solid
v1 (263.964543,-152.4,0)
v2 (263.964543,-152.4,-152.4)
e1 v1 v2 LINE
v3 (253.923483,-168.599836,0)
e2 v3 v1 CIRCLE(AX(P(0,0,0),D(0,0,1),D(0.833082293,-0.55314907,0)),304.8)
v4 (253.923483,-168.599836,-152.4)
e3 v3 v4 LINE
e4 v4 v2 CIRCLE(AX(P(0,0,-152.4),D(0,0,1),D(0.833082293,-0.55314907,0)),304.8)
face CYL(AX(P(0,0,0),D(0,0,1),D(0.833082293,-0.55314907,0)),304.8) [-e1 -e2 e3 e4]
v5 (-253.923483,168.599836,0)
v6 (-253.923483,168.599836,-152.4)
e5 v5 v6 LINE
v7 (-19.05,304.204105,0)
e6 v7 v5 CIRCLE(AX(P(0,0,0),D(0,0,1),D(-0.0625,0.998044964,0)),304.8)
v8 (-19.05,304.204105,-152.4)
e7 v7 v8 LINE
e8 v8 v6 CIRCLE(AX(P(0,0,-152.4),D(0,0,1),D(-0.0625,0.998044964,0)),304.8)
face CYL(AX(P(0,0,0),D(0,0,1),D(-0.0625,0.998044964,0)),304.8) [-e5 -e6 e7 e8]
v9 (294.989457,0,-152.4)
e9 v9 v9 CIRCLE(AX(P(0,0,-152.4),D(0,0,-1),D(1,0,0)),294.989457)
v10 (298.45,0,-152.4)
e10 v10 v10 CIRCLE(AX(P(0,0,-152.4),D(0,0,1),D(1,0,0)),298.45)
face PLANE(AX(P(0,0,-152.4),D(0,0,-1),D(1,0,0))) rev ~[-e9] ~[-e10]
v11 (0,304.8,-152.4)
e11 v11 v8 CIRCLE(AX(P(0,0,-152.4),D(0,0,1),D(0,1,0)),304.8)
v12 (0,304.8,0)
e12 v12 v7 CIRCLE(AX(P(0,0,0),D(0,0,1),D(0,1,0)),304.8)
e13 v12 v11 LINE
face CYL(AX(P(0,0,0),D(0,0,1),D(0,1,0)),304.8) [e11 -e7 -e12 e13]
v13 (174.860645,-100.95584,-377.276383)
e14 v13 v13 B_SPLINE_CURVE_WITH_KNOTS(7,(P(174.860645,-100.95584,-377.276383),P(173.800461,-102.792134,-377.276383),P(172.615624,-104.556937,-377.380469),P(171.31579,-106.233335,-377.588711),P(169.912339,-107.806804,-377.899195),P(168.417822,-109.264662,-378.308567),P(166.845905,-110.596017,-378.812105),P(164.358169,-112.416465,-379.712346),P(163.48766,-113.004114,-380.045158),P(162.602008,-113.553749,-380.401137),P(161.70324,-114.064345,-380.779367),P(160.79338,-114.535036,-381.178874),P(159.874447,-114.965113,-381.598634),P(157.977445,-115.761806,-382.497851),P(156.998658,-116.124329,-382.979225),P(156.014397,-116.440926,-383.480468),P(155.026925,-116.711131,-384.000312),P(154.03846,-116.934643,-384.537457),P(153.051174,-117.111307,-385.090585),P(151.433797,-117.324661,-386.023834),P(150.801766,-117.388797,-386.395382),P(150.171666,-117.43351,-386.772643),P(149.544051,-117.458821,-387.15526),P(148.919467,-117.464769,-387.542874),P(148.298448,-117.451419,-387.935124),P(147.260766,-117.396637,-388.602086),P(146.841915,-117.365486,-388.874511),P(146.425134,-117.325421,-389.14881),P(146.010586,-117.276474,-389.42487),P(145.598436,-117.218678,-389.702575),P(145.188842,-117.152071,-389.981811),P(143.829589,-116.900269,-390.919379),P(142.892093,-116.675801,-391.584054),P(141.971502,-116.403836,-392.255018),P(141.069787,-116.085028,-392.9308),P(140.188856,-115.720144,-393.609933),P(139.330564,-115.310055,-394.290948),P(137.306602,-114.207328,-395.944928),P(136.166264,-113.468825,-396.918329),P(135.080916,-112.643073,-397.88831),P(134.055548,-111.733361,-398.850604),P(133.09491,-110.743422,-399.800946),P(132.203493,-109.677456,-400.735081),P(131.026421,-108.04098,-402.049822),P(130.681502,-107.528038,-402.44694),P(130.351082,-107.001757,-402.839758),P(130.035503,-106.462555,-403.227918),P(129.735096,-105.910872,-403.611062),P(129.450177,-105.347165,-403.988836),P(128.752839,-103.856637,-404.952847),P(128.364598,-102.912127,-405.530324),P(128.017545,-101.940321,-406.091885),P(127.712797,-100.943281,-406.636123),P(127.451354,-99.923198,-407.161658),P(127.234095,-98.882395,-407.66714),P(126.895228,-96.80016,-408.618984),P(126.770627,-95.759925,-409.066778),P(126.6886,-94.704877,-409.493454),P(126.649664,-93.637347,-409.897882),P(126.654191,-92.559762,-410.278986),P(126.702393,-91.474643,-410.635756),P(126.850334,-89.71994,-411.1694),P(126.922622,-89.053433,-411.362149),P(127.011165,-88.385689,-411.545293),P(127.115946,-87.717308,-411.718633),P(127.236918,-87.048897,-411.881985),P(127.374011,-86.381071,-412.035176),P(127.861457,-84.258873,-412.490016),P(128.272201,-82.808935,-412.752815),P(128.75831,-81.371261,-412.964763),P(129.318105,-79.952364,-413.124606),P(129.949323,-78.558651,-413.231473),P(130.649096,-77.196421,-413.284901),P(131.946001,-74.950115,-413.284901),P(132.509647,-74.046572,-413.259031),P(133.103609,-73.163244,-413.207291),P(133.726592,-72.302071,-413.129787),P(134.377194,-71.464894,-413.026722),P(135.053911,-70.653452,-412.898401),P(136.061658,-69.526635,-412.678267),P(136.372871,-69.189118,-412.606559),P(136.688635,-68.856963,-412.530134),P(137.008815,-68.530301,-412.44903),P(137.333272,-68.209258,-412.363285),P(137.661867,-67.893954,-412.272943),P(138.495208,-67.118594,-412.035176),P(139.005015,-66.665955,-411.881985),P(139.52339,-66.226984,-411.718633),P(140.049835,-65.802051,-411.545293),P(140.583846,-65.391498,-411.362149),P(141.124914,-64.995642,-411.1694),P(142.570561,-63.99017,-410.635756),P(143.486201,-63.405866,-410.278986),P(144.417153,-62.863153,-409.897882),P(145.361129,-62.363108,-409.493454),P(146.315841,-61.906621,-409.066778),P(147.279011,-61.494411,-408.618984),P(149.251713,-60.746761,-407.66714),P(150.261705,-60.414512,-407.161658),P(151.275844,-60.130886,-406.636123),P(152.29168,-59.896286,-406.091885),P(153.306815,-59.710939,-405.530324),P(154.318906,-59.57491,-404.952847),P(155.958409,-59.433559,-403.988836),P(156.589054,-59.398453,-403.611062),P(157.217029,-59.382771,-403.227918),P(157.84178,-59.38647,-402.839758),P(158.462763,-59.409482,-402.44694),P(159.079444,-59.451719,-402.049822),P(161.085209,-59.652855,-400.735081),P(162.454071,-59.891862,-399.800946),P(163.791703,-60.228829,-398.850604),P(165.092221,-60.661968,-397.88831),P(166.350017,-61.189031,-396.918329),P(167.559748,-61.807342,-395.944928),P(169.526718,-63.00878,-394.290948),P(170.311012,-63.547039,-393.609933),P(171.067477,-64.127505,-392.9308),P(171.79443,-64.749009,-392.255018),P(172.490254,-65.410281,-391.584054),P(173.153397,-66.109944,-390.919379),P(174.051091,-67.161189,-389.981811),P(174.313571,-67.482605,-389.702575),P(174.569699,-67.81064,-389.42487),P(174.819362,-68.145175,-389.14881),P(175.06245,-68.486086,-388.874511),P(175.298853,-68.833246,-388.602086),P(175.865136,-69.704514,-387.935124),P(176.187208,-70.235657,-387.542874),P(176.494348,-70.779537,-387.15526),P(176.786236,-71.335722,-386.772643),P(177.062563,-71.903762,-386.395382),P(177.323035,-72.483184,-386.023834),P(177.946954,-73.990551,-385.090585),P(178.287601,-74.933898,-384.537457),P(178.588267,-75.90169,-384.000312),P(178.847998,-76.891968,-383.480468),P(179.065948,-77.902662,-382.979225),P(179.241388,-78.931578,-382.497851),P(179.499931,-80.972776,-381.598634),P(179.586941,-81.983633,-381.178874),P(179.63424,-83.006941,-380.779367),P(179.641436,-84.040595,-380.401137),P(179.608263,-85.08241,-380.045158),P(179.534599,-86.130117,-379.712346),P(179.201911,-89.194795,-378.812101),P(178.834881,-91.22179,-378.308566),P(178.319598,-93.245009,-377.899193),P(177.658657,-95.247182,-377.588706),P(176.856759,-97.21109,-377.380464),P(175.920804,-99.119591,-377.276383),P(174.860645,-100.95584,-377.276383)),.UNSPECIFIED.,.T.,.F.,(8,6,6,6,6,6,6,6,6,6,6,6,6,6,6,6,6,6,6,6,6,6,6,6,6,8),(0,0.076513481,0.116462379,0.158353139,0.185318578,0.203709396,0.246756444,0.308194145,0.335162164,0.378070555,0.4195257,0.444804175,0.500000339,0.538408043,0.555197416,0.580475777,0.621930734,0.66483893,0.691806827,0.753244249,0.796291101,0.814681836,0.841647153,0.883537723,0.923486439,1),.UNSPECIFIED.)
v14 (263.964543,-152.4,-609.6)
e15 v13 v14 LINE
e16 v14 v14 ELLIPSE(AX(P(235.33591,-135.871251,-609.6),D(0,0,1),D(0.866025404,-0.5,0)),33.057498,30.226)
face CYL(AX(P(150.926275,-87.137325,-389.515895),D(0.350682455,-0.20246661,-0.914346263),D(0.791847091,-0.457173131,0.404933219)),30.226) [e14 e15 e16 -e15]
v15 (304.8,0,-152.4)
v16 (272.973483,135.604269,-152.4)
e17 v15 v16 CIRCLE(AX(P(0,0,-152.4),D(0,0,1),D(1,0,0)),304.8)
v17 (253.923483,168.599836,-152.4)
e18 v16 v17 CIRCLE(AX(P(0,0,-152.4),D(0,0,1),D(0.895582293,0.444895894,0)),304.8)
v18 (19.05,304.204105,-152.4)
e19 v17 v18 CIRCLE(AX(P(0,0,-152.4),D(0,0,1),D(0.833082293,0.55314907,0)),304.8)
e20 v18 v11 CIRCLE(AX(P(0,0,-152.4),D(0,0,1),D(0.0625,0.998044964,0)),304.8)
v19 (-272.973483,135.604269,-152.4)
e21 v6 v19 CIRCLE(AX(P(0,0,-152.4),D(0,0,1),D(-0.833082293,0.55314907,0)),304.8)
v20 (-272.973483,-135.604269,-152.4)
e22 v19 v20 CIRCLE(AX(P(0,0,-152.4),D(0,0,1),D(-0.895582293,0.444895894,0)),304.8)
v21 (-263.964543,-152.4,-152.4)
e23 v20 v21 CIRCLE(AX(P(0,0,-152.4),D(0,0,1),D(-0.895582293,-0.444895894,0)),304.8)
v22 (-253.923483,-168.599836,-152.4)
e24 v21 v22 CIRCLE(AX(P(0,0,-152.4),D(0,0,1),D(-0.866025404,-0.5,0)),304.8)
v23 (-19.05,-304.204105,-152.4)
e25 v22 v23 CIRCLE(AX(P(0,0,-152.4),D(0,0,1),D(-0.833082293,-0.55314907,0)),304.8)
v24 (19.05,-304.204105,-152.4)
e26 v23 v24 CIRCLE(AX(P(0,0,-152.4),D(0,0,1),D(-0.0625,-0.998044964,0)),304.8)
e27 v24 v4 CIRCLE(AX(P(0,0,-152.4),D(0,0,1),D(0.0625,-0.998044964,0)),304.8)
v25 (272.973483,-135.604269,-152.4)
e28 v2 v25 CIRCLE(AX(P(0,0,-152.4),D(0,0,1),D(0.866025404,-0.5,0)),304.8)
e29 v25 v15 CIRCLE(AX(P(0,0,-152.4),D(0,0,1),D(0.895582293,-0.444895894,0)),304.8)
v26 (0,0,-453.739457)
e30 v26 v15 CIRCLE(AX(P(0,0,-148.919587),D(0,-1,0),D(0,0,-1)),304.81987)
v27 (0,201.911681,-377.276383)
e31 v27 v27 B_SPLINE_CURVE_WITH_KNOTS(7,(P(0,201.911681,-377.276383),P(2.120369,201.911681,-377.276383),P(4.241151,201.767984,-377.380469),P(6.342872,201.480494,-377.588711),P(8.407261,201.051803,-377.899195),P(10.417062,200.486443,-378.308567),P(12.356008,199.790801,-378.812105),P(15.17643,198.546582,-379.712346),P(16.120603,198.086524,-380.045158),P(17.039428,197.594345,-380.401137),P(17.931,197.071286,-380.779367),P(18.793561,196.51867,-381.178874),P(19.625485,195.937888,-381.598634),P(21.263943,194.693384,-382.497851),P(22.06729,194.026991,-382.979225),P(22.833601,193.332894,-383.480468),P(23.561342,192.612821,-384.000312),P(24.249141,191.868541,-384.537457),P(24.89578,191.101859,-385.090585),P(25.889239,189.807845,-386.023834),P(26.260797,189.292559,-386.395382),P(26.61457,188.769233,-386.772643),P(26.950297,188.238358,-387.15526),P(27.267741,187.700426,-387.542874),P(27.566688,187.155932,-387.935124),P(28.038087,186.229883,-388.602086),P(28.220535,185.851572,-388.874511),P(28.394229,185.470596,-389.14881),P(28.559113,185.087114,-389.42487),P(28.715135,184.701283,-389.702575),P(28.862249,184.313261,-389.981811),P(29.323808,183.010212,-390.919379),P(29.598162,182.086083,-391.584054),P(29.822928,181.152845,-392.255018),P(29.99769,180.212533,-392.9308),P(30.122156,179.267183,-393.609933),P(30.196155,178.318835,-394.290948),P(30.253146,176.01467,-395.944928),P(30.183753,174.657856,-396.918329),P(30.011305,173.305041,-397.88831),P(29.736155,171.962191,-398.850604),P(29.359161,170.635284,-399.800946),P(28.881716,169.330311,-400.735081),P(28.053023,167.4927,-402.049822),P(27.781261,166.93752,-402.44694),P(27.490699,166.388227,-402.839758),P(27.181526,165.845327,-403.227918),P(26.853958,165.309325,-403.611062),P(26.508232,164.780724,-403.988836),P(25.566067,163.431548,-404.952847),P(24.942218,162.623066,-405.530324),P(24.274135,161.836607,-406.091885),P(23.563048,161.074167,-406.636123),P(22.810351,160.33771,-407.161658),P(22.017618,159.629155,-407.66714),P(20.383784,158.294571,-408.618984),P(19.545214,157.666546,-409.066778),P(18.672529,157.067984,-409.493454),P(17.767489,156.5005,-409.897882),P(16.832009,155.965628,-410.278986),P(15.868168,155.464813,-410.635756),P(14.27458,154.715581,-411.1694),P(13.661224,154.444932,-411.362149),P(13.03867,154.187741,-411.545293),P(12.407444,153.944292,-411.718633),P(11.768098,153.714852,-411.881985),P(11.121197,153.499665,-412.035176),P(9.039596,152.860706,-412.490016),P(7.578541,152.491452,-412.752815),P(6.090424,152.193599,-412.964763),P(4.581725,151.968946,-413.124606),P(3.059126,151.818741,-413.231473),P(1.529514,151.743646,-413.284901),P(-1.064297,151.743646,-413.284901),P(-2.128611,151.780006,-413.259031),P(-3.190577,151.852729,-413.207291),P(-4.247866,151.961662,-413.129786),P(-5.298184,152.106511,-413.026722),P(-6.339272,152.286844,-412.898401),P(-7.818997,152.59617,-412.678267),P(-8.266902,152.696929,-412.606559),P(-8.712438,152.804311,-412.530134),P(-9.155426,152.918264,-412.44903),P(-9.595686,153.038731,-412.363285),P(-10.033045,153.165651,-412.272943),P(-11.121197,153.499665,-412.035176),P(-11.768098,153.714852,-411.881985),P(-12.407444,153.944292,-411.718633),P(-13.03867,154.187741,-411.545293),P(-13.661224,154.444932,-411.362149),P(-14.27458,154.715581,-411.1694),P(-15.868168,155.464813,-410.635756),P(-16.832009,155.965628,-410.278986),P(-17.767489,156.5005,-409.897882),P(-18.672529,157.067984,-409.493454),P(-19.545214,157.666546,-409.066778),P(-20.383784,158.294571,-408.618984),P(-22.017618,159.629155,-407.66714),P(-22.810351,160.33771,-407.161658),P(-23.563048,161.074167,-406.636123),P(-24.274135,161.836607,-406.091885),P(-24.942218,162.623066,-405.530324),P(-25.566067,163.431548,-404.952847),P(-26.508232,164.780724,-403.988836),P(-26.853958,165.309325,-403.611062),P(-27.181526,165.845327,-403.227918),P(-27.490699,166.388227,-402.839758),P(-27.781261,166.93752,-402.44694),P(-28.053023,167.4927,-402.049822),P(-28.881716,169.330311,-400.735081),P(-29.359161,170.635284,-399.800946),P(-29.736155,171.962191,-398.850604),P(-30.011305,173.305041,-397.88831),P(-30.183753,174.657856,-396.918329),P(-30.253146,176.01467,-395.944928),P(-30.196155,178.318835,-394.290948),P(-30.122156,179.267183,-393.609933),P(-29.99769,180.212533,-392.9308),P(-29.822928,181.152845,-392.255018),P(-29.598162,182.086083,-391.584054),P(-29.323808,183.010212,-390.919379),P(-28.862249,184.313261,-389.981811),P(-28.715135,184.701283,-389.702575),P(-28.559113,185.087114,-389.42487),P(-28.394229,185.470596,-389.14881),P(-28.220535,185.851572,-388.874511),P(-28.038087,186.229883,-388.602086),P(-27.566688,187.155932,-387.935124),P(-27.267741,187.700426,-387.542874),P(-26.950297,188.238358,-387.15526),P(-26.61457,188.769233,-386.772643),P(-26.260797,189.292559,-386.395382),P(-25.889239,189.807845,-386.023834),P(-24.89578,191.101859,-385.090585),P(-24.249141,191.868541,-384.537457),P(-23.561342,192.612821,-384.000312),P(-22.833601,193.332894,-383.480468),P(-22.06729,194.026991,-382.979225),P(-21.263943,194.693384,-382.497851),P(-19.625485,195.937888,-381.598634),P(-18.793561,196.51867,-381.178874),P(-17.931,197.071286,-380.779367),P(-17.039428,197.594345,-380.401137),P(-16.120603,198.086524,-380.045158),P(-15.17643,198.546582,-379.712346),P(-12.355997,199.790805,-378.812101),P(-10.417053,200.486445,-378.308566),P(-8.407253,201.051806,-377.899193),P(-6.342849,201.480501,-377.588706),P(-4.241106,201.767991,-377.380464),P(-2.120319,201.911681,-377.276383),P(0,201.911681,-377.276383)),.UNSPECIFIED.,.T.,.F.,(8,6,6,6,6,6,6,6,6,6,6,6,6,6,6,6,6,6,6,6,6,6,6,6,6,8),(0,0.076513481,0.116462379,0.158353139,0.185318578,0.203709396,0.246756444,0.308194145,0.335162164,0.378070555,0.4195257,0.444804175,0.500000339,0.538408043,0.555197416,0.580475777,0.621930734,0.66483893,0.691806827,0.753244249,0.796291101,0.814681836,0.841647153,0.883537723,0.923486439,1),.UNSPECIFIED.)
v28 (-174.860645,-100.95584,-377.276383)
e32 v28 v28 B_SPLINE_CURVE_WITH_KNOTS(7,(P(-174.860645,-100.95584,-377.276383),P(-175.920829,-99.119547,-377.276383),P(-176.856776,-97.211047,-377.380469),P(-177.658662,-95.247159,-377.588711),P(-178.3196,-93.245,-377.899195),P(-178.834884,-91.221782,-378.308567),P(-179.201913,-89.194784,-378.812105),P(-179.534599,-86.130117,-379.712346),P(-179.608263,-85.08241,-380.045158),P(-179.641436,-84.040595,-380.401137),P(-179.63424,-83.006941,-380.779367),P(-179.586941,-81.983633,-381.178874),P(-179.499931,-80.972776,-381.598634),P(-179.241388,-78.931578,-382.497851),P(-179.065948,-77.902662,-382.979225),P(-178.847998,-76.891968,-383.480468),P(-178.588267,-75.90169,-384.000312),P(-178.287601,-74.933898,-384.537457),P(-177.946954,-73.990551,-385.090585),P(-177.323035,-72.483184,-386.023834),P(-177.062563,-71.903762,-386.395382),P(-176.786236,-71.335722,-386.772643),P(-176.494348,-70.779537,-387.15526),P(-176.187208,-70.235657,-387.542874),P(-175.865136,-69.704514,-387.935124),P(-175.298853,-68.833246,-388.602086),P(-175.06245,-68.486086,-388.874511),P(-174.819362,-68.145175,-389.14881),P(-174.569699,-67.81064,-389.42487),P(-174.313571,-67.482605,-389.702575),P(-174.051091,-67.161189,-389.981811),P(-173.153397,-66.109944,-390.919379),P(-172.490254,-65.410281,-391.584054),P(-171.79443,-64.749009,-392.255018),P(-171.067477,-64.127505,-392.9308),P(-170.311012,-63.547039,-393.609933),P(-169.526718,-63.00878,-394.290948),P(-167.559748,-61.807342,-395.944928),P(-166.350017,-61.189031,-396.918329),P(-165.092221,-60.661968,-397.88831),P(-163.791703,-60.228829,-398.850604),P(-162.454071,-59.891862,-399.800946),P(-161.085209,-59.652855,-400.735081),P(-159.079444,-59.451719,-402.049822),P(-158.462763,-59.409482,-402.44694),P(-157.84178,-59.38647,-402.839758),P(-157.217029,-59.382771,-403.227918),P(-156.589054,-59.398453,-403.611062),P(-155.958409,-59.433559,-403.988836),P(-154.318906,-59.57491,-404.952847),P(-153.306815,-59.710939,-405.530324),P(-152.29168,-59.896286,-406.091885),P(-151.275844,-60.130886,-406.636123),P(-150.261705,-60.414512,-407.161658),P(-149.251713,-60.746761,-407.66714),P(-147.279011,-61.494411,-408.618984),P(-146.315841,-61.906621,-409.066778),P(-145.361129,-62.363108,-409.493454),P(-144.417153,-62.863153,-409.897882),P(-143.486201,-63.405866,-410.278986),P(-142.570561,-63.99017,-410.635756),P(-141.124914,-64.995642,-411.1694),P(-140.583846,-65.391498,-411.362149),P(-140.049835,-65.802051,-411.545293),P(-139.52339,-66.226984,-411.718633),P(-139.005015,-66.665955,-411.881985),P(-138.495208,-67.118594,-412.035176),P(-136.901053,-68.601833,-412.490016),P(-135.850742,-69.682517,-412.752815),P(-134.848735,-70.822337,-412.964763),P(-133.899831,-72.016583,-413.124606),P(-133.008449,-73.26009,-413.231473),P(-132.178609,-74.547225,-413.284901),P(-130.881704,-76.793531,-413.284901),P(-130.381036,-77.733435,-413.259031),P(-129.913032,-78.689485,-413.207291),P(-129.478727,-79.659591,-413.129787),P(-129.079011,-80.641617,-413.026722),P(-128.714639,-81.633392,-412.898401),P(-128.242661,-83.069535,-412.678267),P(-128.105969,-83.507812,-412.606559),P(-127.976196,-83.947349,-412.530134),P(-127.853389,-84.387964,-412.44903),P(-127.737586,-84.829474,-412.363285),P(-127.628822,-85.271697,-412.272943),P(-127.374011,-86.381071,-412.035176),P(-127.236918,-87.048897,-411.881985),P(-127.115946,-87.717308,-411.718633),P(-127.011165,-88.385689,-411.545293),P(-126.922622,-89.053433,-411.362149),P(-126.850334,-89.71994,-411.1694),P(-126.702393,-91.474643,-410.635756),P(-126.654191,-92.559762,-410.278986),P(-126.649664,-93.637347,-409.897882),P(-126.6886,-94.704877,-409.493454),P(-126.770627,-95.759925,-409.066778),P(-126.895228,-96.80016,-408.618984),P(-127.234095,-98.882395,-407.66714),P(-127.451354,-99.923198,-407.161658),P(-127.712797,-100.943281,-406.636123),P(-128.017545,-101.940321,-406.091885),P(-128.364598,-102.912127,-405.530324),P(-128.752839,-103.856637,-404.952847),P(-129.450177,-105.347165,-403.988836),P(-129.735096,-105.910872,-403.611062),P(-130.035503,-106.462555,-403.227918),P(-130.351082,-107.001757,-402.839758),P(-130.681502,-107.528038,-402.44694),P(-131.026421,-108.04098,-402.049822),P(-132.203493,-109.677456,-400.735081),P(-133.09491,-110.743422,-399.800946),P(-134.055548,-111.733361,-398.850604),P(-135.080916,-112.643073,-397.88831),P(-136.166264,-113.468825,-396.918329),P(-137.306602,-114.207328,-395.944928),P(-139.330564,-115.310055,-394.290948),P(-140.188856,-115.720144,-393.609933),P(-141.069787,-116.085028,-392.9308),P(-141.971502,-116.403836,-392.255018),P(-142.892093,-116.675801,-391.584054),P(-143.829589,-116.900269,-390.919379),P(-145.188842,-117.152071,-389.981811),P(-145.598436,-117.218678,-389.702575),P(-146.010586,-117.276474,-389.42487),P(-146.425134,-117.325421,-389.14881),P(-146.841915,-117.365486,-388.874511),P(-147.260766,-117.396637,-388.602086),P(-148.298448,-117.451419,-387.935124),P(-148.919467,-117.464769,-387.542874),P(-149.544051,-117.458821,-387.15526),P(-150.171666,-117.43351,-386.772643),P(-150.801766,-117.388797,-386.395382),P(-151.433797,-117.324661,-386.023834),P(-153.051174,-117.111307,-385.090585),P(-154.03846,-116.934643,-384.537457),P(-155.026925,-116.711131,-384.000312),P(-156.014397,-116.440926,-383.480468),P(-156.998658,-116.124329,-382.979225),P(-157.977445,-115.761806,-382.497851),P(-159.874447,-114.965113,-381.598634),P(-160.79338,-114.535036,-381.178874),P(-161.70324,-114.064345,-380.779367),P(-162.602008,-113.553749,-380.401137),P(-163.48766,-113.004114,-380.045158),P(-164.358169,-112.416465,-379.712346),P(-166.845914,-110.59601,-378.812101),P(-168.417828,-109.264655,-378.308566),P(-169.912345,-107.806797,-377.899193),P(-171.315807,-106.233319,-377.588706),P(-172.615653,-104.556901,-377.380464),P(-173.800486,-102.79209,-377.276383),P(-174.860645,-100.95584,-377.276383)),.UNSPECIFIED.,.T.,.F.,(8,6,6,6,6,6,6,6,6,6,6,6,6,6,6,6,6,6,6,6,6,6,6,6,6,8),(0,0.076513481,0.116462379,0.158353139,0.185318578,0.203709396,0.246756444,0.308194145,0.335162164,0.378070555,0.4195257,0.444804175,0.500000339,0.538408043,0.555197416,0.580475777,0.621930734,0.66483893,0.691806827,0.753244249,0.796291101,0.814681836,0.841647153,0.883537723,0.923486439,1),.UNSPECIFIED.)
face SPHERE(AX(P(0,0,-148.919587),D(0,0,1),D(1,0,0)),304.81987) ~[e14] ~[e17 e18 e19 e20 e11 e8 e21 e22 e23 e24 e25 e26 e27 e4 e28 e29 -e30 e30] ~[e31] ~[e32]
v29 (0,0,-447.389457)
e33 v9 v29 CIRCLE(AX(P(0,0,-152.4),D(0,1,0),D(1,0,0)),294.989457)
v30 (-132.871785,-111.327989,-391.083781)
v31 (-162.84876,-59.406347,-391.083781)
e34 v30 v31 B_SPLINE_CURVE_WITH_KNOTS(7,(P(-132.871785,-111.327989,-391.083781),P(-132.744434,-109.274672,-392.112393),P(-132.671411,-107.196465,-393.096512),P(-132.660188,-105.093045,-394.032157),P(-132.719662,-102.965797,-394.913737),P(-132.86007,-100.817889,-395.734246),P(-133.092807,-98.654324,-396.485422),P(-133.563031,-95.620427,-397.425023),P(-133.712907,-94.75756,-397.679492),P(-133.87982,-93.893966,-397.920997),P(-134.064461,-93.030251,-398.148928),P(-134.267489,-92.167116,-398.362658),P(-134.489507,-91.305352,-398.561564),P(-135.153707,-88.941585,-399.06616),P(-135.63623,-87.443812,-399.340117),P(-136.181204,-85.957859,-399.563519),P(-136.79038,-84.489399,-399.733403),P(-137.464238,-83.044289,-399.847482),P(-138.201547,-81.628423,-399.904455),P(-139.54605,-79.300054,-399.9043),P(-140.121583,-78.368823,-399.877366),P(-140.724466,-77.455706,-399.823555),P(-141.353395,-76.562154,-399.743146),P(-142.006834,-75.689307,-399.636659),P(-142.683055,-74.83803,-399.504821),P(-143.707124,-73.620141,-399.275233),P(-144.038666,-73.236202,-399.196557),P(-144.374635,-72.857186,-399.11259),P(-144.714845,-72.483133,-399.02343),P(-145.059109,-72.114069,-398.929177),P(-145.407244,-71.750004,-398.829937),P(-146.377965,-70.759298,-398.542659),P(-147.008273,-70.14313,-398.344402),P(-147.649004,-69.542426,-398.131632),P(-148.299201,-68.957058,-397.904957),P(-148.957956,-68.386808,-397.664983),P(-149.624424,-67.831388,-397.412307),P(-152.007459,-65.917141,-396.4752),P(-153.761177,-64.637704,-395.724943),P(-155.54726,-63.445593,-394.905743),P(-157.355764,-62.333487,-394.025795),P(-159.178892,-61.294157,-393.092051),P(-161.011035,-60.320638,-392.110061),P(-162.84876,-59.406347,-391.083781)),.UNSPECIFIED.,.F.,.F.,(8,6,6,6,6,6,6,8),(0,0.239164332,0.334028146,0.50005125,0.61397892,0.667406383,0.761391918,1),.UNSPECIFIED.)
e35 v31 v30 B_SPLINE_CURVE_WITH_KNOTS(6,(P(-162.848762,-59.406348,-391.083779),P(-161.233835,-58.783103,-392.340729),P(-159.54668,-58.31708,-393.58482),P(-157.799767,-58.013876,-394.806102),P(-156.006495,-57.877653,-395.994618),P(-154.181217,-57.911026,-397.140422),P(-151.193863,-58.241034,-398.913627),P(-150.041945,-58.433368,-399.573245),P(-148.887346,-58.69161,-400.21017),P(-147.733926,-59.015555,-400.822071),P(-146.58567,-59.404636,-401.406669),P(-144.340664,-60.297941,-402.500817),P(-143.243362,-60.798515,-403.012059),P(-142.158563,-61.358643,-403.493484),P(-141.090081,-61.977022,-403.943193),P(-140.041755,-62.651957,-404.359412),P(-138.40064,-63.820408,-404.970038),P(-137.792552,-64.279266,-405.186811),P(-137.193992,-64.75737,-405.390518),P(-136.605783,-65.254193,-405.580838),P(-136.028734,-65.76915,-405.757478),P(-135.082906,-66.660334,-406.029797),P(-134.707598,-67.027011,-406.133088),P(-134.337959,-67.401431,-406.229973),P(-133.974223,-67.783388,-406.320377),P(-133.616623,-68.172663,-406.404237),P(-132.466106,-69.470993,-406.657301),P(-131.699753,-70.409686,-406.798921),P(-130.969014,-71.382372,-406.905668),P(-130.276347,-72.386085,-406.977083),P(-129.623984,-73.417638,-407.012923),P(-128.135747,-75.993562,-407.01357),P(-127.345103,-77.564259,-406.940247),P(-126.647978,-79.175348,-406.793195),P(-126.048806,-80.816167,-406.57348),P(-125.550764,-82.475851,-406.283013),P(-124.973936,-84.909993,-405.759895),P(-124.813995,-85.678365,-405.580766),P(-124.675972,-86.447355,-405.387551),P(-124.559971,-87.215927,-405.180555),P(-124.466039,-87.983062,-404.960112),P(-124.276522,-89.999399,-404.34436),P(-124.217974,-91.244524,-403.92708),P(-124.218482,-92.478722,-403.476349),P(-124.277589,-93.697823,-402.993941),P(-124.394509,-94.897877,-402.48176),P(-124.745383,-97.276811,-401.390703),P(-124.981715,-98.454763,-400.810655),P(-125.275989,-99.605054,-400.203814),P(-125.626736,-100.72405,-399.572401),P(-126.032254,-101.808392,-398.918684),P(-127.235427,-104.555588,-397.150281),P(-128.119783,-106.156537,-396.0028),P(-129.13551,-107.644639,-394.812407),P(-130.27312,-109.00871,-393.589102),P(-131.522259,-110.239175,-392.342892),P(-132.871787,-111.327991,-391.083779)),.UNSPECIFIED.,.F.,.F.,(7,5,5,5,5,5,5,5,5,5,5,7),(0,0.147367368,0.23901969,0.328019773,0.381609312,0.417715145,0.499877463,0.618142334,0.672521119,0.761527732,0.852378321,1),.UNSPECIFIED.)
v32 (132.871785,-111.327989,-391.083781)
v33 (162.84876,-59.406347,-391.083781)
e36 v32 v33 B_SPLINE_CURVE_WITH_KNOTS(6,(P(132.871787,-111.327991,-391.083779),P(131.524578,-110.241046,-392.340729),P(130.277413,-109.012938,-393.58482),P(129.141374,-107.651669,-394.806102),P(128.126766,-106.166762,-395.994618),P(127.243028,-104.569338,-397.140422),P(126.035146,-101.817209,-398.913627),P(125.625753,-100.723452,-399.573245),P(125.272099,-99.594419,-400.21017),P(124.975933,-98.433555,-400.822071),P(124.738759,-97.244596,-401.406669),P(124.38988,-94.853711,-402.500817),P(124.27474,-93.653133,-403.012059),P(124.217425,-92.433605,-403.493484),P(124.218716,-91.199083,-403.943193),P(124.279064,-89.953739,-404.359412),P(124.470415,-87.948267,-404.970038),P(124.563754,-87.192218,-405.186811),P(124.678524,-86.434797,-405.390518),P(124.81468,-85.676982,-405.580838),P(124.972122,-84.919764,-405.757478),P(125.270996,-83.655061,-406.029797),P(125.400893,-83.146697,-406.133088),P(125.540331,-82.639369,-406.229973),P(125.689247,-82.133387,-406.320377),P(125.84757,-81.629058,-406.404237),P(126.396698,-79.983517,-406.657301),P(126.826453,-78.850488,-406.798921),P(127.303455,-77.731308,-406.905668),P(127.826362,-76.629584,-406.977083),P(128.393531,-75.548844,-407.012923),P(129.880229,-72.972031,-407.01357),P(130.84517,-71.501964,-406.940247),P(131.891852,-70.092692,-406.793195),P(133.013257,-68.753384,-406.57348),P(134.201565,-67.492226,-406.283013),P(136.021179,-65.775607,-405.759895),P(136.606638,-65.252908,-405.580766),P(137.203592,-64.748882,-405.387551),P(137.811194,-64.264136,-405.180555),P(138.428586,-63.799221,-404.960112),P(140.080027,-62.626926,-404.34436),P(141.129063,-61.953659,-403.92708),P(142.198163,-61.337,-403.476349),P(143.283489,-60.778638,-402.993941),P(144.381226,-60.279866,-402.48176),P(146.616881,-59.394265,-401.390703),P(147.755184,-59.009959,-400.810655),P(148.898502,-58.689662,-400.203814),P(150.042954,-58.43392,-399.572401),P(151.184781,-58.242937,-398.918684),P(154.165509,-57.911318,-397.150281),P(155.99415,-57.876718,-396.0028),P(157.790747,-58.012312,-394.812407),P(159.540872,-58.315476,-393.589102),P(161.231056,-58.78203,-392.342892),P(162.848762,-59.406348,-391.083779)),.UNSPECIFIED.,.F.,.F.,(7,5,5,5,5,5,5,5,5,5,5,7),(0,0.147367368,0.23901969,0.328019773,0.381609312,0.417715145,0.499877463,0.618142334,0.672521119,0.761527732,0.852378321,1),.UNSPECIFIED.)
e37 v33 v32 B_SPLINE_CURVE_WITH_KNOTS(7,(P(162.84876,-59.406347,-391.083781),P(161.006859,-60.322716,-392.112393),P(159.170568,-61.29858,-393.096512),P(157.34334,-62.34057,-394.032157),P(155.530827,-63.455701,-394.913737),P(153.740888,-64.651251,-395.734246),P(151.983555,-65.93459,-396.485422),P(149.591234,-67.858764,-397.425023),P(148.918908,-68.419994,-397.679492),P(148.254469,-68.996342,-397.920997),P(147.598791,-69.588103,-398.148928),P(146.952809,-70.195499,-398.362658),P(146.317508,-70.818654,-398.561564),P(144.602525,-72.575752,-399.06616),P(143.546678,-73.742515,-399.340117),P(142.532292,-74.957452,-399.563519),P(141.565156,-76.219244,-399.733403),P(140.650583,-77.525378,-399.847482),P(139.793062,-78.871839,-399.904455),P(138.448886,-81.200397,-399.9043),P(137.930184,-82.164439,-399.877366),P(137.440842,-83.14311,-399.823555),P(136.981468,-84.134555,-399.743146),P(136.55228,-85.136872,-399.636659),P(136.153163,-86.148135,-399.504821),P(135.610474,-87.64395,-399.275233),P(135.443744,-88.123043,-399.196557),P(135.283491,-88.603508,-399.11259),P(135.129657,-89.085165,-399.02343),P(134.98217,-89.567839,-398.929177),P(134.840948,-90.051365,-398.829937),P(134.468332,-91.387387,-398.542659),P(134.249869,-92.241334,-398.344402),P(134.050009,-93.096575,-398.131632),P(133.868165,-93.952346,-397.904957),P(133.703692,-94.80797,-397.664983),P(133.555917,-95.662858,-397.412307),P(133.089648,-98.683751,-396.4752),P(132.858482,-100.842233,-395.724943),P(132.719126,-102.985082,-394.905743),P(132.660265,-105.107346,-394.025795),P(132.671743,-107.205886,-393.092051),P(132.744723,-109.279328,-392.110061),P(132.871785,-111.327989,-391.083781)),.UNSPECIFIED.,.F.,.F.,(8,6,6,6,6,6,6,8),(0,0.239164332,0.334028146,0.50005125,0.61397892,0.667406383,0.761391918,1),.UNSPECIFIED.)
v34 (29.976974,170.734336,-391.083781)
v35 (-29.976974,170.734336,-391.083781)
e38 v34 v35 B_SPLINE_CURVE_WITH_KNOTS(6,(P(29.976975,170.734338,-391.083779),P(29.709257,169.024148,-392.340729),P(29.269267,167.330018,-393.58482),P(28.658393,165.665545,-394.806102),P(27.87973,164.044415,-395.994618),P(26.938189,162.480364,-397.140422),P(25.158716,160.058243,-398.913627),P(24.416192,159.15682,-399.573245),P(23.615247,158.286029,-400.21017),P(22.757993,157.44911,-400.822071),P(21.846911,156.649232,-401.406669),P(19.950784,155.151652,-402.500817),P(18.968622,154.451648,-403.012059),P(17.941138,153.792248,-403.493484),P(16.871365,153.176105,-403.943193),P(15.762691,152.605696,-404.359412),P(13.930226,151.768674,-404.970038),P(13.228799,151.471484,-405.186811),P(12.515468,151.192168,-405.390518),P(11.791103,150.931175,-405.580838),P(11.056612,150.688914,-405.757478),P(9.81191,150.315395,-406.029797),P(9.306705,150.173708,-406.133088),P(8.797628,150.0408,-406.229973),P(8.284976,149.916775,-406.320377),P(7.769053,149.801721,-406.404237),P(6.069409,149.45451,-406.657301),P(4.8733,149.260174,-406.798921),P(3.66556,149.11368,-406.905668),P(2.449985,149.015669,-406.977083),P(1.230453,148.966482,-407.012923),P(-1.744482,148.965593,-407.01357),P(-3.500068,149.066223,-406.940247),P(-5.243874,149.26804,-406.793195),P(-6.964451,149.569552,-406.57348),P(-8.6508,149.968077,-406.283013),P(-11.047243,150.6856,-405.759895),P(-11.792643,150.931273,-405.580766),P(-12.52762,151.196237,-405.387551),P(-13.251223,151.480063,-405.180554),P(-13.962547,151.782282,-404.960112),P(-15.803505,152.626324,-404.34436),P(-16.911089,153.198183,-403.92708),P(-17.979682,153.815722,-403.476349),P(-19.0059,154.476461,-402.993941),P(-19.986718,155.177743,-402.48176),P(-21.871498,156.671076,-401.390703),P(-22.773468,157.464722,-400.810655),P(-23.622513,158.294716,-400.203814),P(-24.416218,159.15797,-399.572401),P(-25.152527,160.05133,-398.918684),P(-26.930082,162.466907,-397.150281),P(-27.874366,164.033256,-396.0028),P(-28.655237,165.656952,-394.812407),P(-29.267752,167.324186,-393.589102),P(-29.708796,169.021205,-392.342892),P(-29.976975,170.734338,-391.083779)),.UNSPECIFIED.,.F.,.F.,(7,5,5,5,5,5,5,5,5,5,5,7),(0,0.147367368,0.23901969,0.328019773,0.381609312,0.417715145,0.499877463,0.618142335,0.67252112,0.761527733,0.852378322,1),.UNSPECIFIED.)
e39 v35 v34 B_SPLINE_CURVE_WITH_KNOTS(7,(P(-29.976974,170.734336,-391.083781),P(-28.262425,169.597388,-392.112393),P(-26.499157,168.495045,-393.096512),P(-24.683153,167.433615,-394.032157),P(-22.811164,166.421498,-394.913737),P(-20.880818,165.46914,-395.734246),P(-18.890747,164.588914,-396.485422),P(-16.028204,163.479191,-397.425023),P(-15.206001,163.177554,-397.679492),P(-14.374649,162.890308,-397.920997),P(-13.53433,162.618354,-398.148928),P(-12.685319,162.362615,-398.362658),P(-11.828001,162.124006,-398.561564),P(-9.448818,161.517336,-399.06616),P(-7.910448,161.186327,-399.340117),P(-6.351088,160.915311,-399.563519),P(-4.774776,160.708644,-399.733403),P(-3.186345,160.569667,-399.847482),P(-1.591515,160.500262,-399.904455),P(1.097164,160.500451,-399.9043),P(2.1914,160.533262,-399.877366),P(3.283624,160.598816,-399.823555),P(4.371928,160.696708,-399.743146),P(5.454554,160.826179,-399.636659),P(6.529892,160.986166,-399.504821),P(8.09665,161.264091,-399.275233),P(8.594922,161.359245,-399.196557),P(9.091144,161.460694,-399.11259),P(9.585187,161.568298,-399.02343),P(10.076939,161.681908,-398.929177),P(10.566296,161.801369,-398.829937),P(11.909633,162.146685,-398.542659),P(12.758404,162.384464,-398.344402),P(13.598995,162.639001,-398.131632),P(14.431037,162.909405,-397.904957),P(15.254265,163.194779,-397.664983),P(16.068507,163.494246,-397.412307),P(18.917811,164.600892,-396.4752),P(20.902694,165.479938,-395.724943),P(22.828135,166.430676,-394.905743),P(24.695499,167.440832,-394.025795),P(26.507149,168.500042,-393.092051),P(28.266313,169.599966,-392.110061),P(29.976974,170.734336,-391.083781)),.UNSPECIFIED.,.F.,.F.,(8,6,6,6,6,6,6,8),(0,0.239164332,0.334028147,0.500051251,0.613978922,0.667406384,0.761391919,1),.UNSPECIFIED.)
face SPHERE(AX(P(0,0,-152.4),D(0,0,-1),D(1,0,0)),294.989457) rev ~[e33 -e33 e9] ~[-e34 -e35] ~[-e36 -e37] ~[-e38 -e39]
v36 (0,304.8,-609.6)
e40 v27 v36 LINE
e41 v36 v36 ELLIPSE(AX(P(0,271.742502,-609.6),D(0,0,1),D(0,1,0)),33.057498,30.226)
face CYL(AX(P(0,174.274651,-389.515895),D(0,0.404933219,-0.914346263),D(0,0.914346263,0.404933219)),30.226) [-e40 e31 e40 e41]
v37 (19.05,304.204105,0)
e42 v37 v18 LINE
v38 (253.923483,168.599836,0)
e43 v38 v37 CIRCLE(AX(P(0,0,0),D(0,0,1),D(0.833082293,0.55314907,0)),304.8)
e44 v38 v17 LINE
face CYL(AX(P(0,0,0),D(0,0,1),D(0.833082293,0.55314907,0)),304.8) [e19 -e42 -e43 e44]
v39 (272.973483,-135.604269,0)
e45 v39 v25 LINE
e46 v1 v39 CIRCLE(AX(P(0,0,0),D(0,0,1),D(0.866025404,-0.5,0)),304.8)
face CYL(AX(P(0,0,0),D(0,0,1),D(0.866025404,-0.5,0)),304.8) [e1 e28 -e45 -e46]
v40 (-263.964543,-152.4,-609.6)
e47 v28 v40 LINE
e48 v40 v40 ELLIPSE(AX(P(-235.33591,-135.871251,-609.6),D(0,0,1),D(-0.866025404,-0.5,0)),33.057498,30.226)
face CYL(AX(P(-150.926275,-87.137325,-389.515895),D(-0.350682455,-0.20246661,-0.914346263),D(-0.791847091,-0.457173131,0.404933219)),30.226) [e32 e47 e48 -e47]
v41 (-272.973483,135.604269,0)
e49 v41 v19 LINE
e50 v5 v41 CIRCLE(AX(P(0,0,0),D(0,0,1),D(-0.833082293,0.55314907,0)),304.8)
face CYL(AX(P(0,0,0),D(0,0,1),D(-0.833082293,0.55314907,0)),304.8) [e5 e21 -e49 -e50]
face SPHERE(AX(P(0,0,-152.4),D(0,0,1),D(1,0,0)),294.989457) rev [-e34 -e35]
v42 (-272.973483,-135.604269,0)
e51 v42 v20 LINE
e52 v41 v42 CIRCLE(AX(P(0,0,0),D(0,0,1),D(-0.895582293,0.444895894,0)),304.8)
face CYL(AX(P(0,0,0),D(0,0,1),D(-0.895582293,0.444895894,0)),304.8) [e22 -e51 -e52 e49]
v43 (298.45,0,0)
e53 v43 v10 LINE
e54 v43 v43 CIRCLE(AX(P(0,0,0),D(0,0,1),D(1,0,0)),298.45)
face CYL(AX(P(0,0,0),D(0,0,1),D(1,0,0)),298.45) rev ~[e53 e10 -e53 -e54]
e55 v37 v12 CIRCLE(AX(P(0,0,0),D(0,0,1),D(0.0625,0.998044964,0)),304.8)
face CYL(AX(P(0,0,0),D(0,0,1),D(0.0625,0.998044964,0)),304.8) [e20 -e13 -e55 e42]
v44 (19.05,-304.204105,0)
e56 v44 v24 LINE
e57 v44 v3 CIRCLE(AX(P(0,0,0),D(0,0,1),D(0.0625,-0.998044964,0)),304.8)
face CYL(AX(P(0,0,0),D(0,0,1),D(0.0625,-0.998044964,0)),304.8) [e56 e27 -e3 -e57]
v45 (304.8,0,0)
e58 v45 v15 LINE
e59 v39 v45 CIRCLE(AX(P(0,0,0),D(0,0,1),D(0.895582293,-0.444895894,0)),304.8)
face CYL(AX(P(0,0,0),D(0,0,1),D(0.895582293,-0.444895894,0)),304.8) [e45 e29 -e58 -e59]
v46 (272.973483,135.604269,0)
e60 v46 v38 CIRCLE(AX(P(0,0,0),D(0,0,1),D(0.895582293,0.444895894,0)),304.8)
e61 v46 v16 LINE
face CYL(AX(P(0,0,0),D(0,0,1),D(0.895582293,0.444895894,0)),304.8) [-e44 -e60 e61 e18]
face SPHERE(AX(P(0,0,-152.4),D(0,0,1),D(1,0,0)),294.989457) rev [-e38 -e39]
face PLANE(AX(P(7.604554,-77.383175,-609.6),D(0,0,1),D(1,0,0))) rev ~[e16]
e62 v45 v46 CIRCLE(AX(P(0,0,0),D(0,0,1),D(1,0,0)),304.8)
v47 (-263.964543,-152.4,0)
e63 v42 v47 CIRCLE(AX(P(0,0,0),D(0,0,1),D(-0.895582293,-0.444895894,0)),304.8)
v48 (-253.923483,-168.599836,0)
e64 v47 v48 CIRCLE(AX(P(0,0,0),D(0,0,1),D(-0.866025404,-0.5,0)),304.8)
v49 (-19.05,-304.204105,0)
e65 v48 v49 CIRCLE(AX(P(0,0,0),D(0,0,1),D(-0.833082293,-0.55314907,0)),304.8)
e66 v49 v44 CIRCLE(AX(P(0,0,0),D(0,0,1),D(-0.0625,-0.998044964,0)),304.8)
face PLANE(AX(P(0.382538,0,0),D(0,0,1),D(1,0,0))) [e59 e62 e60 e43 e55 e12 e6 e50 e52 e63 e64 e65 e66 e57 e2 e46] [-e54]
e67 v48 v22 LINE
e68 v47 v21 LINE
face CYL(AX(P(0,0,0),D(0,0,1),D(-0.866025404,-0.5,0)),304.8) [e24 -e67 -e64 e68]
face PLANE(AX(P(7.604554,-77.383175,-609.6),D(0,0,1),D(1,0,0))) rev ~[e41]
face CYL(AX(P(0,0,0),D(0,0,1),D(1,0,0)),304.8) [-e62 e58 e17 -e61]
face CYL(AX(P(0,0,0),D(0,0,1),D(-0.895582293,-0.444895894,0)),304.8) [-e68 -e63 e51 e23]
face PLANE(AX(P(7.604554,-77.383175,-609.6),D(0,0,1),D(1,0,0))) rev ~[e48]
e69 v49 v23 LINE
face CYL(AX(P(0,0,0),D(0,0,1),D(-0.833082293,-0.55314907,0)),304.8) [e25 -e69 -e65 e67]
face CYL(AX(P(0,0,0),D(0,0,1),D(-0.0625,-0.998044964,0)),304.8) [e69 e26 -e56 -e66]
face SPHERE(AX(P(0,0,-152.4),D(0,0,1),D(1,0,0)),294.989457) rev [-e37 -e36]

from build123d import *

# Parameters (mm, degrees)
F0_R      = 298.45
F1_DEPTH  = 152.4
F11_W     = 1267.8290780676
F11_H     = 1016
F16_DEPTH = 76.2


with BuildPart() as f1:
    # F0 (on Top) → F1 (new body)
    with BuildSketch(Plane.XY):
        with BuildLine():
            ThreePointArc((272.9734828671, 135.6042685589), (263.9645430735, 152.4), (253.9234828671, 168.599836443))
            ThreePointArc((253.9234828671, 168.599836443), (152.4, 263.9645430735), (19.05, 304.2041050019))
            ThreePointArc((19.05, 304.2041050019), (9.5296588455, 304.6509898265), (0, 304.8))
            ThreePointArc((0, 304.8), (-9.5296588455, 304.6509898265), (-19.05, 304.2041050019))
            ThreePointArc((-19.05, 304.2041050019), (-152.4, 263.9645430735), (-253.9234828671, 168.599836443))
            ThreePointArc((-253.9234828671, 168.599836443), (-263.9645430735, 152.4), (-272.9734828671, 135.6042685589))
            ThreePointArc((-272.9734828671, 135.6042685589), (-304.8, 0), (-272.9734828671, -135.6042685589))
            ThreePointArc((-272.9734828671, -135.6042685589), (-268.6003259006, -144.0725682636), (-263.9645430735, -152.4))
            ThreePointArc((-263.9645430735, -152.4), (-259.0706670551, -160.5784215629), (-253.9234828671, -168.599836443))
            ThreePointArc((-253.9234828671, -168.599836443), (-152.4, -263.9645430735), (-19.05, -304.2041050019))
            ThreePointArc((-19.05, -304.2041050019), (0, -304.8), (19.05, -304.2041050019))
            ThreePointArc((19.05, -304.2041050019), (152.4, -263.9645430735), (253.9234828671, -168.599836443))
            ThreePointArc((253.9234828671, -168.599836443), (259.0706670551, -160.5784215629), (263.9645430735, -152.4))
            ThreePointArc((263.9645430735, -152.4), (268.6003259006, -144.0725682636), (272.9734828671, -135.6042685589))
            ThreePointArc((272.9734828671, -135.6042685589), (296.7367162805, -69.6445346818), (304.8, 0))
            ThreePointArc((304.8, 0), (296.7367162805, 69.6445346818), (272.9734828671, 135.6042685589))
        make_face()
        Circle(F0_R, mode=Mode.SUBTRACT)
    extrude(amount=-F1_DEPTH)

    # F2 (on Front) → F9 (revolve)
    with BuildSketch(Plane.XZ):
        with BuildLine():
            Line((0, -447.3894571287), (0, -453.7394571287))
            ThreePointArc((0, -453.7394571287), (214.306152748, -365.6868034652), (304.8, -152.4))
            Line((304.8, -152.4), (294.9894571287, -152.4))
            ThreePointArc((294.9894571287, -152.4), (208.5890455143, -360.9890455142), (0, -447.3894571287))
        make_face()
    revolve(axis=Axis((0, 0, -248.1805924326), (0, 0, -1)))

    # F8 (on face) → F12 (revolve)
    with BuildSketch(Plane(origin=(0, 0, 0), x_dir=(0, -1, 0), z_dir=(-1, 0, 0))):
        with BuildLine():
            Line((-201.9116809095, -377.2763831548), (-304.8, -609.6))
            Line((-304.8, -609.6), (-271.7425017268, -609.6))
            Line((-271.7425017268, -609.6), (-177.4761269208, -396.7448835454))
            ThreePointArc((-177.4761269208, -396.7448835454), (-189.9434989923, -387.3239083256), (-201.9116809095, -377.2763831548))
        make_face()
    revolve(axis=Axis((0, 136.6116201303, -304.4721153432), (0, 0.4049332191, -0.9143462627)))

    # F7 (on face) → F13 (revolve)
    with BuildSketch(Plane(origin=(0, 0, 0), x_dir=(-0.8660254038, 0.5, 0), z_dir=(0.5, 0.8660254038, 0))):
        with BuildLine():
            Line((-201.9116809095, -377.2763831548), (-304.8, -609.6))
            Line((-304.8, -609.6), (-271.7425017268, -609.6))
            Line((-271.7425017268, -609.6), (-177.4761269208, -396.7448835454))
            ThreePointArc((-177.4761269208, -396.7448835454), (-189.9434989923, -387.3239083256), (-201.9116809095, -377.2763831548))
        make_face()
    revolve(axis=Axis((118.309133485, -68.3058100652, -304.4721153432), (0.3506824545, -0.2024666095, -0.9143462627)))

    # F6 (on face) → F14 (revolve)
    with BuildSketch(Plane(origin=(0, 0, 0), x_dir=(0.8660254038, 0.5, 0), z_dir=(0.5, -0.8660254038, 0))):
        with BuildLine():
            Line((-201.9116809095, -377.2763831548), (-304.8, -609.6))
            Line((-304.8, -609.6), (-271.7425017268, -609.6))
            Line((-271.7425017268, -609.6), (-177.4761269208, -396.7448835454))
            ThreePointArc((-177.4761269208, -396.7448835454), (-189.9434989923, -387.3239083256), (-201.9116809095, -377.2763831548))
        make_face()
    revolve(axis=Axis((-118.309133485, -68.3058100652, -304.4721153432), (-0.3506824545, -0.2024666095, -0.9143462627)))

    # F2 (on Front) → F15 (revolve, cut)
    with BuildSketch(Plane.XZ):
        with BuildLine():
            Line((0, -152.4), (0, -447.3894571287))
            ThreePointArc((0, -447.3894571287), (208.5890455143, -360.9890455142), (294.9894571287, -152.4))
            Line((294.9894571287, -152.4), (0, -152.4))
        make_face()
    revolve(axis=Axis((0, 0, -248.1805924326), (0, 0, -1)), mode=Mode.SUBTRACT)

    # F11 (on offset) → F16 (cut)
    with BuildSketch(Plane.XY.offset(-609.6)):
        with Locations((7.6045542955, -77.3831754923)):
            Rectangle(F11_W, F11_H)
    extrude(amount=-F16_DEPTH, mode=Mode.SUBTRACT)


solid = f1.part
